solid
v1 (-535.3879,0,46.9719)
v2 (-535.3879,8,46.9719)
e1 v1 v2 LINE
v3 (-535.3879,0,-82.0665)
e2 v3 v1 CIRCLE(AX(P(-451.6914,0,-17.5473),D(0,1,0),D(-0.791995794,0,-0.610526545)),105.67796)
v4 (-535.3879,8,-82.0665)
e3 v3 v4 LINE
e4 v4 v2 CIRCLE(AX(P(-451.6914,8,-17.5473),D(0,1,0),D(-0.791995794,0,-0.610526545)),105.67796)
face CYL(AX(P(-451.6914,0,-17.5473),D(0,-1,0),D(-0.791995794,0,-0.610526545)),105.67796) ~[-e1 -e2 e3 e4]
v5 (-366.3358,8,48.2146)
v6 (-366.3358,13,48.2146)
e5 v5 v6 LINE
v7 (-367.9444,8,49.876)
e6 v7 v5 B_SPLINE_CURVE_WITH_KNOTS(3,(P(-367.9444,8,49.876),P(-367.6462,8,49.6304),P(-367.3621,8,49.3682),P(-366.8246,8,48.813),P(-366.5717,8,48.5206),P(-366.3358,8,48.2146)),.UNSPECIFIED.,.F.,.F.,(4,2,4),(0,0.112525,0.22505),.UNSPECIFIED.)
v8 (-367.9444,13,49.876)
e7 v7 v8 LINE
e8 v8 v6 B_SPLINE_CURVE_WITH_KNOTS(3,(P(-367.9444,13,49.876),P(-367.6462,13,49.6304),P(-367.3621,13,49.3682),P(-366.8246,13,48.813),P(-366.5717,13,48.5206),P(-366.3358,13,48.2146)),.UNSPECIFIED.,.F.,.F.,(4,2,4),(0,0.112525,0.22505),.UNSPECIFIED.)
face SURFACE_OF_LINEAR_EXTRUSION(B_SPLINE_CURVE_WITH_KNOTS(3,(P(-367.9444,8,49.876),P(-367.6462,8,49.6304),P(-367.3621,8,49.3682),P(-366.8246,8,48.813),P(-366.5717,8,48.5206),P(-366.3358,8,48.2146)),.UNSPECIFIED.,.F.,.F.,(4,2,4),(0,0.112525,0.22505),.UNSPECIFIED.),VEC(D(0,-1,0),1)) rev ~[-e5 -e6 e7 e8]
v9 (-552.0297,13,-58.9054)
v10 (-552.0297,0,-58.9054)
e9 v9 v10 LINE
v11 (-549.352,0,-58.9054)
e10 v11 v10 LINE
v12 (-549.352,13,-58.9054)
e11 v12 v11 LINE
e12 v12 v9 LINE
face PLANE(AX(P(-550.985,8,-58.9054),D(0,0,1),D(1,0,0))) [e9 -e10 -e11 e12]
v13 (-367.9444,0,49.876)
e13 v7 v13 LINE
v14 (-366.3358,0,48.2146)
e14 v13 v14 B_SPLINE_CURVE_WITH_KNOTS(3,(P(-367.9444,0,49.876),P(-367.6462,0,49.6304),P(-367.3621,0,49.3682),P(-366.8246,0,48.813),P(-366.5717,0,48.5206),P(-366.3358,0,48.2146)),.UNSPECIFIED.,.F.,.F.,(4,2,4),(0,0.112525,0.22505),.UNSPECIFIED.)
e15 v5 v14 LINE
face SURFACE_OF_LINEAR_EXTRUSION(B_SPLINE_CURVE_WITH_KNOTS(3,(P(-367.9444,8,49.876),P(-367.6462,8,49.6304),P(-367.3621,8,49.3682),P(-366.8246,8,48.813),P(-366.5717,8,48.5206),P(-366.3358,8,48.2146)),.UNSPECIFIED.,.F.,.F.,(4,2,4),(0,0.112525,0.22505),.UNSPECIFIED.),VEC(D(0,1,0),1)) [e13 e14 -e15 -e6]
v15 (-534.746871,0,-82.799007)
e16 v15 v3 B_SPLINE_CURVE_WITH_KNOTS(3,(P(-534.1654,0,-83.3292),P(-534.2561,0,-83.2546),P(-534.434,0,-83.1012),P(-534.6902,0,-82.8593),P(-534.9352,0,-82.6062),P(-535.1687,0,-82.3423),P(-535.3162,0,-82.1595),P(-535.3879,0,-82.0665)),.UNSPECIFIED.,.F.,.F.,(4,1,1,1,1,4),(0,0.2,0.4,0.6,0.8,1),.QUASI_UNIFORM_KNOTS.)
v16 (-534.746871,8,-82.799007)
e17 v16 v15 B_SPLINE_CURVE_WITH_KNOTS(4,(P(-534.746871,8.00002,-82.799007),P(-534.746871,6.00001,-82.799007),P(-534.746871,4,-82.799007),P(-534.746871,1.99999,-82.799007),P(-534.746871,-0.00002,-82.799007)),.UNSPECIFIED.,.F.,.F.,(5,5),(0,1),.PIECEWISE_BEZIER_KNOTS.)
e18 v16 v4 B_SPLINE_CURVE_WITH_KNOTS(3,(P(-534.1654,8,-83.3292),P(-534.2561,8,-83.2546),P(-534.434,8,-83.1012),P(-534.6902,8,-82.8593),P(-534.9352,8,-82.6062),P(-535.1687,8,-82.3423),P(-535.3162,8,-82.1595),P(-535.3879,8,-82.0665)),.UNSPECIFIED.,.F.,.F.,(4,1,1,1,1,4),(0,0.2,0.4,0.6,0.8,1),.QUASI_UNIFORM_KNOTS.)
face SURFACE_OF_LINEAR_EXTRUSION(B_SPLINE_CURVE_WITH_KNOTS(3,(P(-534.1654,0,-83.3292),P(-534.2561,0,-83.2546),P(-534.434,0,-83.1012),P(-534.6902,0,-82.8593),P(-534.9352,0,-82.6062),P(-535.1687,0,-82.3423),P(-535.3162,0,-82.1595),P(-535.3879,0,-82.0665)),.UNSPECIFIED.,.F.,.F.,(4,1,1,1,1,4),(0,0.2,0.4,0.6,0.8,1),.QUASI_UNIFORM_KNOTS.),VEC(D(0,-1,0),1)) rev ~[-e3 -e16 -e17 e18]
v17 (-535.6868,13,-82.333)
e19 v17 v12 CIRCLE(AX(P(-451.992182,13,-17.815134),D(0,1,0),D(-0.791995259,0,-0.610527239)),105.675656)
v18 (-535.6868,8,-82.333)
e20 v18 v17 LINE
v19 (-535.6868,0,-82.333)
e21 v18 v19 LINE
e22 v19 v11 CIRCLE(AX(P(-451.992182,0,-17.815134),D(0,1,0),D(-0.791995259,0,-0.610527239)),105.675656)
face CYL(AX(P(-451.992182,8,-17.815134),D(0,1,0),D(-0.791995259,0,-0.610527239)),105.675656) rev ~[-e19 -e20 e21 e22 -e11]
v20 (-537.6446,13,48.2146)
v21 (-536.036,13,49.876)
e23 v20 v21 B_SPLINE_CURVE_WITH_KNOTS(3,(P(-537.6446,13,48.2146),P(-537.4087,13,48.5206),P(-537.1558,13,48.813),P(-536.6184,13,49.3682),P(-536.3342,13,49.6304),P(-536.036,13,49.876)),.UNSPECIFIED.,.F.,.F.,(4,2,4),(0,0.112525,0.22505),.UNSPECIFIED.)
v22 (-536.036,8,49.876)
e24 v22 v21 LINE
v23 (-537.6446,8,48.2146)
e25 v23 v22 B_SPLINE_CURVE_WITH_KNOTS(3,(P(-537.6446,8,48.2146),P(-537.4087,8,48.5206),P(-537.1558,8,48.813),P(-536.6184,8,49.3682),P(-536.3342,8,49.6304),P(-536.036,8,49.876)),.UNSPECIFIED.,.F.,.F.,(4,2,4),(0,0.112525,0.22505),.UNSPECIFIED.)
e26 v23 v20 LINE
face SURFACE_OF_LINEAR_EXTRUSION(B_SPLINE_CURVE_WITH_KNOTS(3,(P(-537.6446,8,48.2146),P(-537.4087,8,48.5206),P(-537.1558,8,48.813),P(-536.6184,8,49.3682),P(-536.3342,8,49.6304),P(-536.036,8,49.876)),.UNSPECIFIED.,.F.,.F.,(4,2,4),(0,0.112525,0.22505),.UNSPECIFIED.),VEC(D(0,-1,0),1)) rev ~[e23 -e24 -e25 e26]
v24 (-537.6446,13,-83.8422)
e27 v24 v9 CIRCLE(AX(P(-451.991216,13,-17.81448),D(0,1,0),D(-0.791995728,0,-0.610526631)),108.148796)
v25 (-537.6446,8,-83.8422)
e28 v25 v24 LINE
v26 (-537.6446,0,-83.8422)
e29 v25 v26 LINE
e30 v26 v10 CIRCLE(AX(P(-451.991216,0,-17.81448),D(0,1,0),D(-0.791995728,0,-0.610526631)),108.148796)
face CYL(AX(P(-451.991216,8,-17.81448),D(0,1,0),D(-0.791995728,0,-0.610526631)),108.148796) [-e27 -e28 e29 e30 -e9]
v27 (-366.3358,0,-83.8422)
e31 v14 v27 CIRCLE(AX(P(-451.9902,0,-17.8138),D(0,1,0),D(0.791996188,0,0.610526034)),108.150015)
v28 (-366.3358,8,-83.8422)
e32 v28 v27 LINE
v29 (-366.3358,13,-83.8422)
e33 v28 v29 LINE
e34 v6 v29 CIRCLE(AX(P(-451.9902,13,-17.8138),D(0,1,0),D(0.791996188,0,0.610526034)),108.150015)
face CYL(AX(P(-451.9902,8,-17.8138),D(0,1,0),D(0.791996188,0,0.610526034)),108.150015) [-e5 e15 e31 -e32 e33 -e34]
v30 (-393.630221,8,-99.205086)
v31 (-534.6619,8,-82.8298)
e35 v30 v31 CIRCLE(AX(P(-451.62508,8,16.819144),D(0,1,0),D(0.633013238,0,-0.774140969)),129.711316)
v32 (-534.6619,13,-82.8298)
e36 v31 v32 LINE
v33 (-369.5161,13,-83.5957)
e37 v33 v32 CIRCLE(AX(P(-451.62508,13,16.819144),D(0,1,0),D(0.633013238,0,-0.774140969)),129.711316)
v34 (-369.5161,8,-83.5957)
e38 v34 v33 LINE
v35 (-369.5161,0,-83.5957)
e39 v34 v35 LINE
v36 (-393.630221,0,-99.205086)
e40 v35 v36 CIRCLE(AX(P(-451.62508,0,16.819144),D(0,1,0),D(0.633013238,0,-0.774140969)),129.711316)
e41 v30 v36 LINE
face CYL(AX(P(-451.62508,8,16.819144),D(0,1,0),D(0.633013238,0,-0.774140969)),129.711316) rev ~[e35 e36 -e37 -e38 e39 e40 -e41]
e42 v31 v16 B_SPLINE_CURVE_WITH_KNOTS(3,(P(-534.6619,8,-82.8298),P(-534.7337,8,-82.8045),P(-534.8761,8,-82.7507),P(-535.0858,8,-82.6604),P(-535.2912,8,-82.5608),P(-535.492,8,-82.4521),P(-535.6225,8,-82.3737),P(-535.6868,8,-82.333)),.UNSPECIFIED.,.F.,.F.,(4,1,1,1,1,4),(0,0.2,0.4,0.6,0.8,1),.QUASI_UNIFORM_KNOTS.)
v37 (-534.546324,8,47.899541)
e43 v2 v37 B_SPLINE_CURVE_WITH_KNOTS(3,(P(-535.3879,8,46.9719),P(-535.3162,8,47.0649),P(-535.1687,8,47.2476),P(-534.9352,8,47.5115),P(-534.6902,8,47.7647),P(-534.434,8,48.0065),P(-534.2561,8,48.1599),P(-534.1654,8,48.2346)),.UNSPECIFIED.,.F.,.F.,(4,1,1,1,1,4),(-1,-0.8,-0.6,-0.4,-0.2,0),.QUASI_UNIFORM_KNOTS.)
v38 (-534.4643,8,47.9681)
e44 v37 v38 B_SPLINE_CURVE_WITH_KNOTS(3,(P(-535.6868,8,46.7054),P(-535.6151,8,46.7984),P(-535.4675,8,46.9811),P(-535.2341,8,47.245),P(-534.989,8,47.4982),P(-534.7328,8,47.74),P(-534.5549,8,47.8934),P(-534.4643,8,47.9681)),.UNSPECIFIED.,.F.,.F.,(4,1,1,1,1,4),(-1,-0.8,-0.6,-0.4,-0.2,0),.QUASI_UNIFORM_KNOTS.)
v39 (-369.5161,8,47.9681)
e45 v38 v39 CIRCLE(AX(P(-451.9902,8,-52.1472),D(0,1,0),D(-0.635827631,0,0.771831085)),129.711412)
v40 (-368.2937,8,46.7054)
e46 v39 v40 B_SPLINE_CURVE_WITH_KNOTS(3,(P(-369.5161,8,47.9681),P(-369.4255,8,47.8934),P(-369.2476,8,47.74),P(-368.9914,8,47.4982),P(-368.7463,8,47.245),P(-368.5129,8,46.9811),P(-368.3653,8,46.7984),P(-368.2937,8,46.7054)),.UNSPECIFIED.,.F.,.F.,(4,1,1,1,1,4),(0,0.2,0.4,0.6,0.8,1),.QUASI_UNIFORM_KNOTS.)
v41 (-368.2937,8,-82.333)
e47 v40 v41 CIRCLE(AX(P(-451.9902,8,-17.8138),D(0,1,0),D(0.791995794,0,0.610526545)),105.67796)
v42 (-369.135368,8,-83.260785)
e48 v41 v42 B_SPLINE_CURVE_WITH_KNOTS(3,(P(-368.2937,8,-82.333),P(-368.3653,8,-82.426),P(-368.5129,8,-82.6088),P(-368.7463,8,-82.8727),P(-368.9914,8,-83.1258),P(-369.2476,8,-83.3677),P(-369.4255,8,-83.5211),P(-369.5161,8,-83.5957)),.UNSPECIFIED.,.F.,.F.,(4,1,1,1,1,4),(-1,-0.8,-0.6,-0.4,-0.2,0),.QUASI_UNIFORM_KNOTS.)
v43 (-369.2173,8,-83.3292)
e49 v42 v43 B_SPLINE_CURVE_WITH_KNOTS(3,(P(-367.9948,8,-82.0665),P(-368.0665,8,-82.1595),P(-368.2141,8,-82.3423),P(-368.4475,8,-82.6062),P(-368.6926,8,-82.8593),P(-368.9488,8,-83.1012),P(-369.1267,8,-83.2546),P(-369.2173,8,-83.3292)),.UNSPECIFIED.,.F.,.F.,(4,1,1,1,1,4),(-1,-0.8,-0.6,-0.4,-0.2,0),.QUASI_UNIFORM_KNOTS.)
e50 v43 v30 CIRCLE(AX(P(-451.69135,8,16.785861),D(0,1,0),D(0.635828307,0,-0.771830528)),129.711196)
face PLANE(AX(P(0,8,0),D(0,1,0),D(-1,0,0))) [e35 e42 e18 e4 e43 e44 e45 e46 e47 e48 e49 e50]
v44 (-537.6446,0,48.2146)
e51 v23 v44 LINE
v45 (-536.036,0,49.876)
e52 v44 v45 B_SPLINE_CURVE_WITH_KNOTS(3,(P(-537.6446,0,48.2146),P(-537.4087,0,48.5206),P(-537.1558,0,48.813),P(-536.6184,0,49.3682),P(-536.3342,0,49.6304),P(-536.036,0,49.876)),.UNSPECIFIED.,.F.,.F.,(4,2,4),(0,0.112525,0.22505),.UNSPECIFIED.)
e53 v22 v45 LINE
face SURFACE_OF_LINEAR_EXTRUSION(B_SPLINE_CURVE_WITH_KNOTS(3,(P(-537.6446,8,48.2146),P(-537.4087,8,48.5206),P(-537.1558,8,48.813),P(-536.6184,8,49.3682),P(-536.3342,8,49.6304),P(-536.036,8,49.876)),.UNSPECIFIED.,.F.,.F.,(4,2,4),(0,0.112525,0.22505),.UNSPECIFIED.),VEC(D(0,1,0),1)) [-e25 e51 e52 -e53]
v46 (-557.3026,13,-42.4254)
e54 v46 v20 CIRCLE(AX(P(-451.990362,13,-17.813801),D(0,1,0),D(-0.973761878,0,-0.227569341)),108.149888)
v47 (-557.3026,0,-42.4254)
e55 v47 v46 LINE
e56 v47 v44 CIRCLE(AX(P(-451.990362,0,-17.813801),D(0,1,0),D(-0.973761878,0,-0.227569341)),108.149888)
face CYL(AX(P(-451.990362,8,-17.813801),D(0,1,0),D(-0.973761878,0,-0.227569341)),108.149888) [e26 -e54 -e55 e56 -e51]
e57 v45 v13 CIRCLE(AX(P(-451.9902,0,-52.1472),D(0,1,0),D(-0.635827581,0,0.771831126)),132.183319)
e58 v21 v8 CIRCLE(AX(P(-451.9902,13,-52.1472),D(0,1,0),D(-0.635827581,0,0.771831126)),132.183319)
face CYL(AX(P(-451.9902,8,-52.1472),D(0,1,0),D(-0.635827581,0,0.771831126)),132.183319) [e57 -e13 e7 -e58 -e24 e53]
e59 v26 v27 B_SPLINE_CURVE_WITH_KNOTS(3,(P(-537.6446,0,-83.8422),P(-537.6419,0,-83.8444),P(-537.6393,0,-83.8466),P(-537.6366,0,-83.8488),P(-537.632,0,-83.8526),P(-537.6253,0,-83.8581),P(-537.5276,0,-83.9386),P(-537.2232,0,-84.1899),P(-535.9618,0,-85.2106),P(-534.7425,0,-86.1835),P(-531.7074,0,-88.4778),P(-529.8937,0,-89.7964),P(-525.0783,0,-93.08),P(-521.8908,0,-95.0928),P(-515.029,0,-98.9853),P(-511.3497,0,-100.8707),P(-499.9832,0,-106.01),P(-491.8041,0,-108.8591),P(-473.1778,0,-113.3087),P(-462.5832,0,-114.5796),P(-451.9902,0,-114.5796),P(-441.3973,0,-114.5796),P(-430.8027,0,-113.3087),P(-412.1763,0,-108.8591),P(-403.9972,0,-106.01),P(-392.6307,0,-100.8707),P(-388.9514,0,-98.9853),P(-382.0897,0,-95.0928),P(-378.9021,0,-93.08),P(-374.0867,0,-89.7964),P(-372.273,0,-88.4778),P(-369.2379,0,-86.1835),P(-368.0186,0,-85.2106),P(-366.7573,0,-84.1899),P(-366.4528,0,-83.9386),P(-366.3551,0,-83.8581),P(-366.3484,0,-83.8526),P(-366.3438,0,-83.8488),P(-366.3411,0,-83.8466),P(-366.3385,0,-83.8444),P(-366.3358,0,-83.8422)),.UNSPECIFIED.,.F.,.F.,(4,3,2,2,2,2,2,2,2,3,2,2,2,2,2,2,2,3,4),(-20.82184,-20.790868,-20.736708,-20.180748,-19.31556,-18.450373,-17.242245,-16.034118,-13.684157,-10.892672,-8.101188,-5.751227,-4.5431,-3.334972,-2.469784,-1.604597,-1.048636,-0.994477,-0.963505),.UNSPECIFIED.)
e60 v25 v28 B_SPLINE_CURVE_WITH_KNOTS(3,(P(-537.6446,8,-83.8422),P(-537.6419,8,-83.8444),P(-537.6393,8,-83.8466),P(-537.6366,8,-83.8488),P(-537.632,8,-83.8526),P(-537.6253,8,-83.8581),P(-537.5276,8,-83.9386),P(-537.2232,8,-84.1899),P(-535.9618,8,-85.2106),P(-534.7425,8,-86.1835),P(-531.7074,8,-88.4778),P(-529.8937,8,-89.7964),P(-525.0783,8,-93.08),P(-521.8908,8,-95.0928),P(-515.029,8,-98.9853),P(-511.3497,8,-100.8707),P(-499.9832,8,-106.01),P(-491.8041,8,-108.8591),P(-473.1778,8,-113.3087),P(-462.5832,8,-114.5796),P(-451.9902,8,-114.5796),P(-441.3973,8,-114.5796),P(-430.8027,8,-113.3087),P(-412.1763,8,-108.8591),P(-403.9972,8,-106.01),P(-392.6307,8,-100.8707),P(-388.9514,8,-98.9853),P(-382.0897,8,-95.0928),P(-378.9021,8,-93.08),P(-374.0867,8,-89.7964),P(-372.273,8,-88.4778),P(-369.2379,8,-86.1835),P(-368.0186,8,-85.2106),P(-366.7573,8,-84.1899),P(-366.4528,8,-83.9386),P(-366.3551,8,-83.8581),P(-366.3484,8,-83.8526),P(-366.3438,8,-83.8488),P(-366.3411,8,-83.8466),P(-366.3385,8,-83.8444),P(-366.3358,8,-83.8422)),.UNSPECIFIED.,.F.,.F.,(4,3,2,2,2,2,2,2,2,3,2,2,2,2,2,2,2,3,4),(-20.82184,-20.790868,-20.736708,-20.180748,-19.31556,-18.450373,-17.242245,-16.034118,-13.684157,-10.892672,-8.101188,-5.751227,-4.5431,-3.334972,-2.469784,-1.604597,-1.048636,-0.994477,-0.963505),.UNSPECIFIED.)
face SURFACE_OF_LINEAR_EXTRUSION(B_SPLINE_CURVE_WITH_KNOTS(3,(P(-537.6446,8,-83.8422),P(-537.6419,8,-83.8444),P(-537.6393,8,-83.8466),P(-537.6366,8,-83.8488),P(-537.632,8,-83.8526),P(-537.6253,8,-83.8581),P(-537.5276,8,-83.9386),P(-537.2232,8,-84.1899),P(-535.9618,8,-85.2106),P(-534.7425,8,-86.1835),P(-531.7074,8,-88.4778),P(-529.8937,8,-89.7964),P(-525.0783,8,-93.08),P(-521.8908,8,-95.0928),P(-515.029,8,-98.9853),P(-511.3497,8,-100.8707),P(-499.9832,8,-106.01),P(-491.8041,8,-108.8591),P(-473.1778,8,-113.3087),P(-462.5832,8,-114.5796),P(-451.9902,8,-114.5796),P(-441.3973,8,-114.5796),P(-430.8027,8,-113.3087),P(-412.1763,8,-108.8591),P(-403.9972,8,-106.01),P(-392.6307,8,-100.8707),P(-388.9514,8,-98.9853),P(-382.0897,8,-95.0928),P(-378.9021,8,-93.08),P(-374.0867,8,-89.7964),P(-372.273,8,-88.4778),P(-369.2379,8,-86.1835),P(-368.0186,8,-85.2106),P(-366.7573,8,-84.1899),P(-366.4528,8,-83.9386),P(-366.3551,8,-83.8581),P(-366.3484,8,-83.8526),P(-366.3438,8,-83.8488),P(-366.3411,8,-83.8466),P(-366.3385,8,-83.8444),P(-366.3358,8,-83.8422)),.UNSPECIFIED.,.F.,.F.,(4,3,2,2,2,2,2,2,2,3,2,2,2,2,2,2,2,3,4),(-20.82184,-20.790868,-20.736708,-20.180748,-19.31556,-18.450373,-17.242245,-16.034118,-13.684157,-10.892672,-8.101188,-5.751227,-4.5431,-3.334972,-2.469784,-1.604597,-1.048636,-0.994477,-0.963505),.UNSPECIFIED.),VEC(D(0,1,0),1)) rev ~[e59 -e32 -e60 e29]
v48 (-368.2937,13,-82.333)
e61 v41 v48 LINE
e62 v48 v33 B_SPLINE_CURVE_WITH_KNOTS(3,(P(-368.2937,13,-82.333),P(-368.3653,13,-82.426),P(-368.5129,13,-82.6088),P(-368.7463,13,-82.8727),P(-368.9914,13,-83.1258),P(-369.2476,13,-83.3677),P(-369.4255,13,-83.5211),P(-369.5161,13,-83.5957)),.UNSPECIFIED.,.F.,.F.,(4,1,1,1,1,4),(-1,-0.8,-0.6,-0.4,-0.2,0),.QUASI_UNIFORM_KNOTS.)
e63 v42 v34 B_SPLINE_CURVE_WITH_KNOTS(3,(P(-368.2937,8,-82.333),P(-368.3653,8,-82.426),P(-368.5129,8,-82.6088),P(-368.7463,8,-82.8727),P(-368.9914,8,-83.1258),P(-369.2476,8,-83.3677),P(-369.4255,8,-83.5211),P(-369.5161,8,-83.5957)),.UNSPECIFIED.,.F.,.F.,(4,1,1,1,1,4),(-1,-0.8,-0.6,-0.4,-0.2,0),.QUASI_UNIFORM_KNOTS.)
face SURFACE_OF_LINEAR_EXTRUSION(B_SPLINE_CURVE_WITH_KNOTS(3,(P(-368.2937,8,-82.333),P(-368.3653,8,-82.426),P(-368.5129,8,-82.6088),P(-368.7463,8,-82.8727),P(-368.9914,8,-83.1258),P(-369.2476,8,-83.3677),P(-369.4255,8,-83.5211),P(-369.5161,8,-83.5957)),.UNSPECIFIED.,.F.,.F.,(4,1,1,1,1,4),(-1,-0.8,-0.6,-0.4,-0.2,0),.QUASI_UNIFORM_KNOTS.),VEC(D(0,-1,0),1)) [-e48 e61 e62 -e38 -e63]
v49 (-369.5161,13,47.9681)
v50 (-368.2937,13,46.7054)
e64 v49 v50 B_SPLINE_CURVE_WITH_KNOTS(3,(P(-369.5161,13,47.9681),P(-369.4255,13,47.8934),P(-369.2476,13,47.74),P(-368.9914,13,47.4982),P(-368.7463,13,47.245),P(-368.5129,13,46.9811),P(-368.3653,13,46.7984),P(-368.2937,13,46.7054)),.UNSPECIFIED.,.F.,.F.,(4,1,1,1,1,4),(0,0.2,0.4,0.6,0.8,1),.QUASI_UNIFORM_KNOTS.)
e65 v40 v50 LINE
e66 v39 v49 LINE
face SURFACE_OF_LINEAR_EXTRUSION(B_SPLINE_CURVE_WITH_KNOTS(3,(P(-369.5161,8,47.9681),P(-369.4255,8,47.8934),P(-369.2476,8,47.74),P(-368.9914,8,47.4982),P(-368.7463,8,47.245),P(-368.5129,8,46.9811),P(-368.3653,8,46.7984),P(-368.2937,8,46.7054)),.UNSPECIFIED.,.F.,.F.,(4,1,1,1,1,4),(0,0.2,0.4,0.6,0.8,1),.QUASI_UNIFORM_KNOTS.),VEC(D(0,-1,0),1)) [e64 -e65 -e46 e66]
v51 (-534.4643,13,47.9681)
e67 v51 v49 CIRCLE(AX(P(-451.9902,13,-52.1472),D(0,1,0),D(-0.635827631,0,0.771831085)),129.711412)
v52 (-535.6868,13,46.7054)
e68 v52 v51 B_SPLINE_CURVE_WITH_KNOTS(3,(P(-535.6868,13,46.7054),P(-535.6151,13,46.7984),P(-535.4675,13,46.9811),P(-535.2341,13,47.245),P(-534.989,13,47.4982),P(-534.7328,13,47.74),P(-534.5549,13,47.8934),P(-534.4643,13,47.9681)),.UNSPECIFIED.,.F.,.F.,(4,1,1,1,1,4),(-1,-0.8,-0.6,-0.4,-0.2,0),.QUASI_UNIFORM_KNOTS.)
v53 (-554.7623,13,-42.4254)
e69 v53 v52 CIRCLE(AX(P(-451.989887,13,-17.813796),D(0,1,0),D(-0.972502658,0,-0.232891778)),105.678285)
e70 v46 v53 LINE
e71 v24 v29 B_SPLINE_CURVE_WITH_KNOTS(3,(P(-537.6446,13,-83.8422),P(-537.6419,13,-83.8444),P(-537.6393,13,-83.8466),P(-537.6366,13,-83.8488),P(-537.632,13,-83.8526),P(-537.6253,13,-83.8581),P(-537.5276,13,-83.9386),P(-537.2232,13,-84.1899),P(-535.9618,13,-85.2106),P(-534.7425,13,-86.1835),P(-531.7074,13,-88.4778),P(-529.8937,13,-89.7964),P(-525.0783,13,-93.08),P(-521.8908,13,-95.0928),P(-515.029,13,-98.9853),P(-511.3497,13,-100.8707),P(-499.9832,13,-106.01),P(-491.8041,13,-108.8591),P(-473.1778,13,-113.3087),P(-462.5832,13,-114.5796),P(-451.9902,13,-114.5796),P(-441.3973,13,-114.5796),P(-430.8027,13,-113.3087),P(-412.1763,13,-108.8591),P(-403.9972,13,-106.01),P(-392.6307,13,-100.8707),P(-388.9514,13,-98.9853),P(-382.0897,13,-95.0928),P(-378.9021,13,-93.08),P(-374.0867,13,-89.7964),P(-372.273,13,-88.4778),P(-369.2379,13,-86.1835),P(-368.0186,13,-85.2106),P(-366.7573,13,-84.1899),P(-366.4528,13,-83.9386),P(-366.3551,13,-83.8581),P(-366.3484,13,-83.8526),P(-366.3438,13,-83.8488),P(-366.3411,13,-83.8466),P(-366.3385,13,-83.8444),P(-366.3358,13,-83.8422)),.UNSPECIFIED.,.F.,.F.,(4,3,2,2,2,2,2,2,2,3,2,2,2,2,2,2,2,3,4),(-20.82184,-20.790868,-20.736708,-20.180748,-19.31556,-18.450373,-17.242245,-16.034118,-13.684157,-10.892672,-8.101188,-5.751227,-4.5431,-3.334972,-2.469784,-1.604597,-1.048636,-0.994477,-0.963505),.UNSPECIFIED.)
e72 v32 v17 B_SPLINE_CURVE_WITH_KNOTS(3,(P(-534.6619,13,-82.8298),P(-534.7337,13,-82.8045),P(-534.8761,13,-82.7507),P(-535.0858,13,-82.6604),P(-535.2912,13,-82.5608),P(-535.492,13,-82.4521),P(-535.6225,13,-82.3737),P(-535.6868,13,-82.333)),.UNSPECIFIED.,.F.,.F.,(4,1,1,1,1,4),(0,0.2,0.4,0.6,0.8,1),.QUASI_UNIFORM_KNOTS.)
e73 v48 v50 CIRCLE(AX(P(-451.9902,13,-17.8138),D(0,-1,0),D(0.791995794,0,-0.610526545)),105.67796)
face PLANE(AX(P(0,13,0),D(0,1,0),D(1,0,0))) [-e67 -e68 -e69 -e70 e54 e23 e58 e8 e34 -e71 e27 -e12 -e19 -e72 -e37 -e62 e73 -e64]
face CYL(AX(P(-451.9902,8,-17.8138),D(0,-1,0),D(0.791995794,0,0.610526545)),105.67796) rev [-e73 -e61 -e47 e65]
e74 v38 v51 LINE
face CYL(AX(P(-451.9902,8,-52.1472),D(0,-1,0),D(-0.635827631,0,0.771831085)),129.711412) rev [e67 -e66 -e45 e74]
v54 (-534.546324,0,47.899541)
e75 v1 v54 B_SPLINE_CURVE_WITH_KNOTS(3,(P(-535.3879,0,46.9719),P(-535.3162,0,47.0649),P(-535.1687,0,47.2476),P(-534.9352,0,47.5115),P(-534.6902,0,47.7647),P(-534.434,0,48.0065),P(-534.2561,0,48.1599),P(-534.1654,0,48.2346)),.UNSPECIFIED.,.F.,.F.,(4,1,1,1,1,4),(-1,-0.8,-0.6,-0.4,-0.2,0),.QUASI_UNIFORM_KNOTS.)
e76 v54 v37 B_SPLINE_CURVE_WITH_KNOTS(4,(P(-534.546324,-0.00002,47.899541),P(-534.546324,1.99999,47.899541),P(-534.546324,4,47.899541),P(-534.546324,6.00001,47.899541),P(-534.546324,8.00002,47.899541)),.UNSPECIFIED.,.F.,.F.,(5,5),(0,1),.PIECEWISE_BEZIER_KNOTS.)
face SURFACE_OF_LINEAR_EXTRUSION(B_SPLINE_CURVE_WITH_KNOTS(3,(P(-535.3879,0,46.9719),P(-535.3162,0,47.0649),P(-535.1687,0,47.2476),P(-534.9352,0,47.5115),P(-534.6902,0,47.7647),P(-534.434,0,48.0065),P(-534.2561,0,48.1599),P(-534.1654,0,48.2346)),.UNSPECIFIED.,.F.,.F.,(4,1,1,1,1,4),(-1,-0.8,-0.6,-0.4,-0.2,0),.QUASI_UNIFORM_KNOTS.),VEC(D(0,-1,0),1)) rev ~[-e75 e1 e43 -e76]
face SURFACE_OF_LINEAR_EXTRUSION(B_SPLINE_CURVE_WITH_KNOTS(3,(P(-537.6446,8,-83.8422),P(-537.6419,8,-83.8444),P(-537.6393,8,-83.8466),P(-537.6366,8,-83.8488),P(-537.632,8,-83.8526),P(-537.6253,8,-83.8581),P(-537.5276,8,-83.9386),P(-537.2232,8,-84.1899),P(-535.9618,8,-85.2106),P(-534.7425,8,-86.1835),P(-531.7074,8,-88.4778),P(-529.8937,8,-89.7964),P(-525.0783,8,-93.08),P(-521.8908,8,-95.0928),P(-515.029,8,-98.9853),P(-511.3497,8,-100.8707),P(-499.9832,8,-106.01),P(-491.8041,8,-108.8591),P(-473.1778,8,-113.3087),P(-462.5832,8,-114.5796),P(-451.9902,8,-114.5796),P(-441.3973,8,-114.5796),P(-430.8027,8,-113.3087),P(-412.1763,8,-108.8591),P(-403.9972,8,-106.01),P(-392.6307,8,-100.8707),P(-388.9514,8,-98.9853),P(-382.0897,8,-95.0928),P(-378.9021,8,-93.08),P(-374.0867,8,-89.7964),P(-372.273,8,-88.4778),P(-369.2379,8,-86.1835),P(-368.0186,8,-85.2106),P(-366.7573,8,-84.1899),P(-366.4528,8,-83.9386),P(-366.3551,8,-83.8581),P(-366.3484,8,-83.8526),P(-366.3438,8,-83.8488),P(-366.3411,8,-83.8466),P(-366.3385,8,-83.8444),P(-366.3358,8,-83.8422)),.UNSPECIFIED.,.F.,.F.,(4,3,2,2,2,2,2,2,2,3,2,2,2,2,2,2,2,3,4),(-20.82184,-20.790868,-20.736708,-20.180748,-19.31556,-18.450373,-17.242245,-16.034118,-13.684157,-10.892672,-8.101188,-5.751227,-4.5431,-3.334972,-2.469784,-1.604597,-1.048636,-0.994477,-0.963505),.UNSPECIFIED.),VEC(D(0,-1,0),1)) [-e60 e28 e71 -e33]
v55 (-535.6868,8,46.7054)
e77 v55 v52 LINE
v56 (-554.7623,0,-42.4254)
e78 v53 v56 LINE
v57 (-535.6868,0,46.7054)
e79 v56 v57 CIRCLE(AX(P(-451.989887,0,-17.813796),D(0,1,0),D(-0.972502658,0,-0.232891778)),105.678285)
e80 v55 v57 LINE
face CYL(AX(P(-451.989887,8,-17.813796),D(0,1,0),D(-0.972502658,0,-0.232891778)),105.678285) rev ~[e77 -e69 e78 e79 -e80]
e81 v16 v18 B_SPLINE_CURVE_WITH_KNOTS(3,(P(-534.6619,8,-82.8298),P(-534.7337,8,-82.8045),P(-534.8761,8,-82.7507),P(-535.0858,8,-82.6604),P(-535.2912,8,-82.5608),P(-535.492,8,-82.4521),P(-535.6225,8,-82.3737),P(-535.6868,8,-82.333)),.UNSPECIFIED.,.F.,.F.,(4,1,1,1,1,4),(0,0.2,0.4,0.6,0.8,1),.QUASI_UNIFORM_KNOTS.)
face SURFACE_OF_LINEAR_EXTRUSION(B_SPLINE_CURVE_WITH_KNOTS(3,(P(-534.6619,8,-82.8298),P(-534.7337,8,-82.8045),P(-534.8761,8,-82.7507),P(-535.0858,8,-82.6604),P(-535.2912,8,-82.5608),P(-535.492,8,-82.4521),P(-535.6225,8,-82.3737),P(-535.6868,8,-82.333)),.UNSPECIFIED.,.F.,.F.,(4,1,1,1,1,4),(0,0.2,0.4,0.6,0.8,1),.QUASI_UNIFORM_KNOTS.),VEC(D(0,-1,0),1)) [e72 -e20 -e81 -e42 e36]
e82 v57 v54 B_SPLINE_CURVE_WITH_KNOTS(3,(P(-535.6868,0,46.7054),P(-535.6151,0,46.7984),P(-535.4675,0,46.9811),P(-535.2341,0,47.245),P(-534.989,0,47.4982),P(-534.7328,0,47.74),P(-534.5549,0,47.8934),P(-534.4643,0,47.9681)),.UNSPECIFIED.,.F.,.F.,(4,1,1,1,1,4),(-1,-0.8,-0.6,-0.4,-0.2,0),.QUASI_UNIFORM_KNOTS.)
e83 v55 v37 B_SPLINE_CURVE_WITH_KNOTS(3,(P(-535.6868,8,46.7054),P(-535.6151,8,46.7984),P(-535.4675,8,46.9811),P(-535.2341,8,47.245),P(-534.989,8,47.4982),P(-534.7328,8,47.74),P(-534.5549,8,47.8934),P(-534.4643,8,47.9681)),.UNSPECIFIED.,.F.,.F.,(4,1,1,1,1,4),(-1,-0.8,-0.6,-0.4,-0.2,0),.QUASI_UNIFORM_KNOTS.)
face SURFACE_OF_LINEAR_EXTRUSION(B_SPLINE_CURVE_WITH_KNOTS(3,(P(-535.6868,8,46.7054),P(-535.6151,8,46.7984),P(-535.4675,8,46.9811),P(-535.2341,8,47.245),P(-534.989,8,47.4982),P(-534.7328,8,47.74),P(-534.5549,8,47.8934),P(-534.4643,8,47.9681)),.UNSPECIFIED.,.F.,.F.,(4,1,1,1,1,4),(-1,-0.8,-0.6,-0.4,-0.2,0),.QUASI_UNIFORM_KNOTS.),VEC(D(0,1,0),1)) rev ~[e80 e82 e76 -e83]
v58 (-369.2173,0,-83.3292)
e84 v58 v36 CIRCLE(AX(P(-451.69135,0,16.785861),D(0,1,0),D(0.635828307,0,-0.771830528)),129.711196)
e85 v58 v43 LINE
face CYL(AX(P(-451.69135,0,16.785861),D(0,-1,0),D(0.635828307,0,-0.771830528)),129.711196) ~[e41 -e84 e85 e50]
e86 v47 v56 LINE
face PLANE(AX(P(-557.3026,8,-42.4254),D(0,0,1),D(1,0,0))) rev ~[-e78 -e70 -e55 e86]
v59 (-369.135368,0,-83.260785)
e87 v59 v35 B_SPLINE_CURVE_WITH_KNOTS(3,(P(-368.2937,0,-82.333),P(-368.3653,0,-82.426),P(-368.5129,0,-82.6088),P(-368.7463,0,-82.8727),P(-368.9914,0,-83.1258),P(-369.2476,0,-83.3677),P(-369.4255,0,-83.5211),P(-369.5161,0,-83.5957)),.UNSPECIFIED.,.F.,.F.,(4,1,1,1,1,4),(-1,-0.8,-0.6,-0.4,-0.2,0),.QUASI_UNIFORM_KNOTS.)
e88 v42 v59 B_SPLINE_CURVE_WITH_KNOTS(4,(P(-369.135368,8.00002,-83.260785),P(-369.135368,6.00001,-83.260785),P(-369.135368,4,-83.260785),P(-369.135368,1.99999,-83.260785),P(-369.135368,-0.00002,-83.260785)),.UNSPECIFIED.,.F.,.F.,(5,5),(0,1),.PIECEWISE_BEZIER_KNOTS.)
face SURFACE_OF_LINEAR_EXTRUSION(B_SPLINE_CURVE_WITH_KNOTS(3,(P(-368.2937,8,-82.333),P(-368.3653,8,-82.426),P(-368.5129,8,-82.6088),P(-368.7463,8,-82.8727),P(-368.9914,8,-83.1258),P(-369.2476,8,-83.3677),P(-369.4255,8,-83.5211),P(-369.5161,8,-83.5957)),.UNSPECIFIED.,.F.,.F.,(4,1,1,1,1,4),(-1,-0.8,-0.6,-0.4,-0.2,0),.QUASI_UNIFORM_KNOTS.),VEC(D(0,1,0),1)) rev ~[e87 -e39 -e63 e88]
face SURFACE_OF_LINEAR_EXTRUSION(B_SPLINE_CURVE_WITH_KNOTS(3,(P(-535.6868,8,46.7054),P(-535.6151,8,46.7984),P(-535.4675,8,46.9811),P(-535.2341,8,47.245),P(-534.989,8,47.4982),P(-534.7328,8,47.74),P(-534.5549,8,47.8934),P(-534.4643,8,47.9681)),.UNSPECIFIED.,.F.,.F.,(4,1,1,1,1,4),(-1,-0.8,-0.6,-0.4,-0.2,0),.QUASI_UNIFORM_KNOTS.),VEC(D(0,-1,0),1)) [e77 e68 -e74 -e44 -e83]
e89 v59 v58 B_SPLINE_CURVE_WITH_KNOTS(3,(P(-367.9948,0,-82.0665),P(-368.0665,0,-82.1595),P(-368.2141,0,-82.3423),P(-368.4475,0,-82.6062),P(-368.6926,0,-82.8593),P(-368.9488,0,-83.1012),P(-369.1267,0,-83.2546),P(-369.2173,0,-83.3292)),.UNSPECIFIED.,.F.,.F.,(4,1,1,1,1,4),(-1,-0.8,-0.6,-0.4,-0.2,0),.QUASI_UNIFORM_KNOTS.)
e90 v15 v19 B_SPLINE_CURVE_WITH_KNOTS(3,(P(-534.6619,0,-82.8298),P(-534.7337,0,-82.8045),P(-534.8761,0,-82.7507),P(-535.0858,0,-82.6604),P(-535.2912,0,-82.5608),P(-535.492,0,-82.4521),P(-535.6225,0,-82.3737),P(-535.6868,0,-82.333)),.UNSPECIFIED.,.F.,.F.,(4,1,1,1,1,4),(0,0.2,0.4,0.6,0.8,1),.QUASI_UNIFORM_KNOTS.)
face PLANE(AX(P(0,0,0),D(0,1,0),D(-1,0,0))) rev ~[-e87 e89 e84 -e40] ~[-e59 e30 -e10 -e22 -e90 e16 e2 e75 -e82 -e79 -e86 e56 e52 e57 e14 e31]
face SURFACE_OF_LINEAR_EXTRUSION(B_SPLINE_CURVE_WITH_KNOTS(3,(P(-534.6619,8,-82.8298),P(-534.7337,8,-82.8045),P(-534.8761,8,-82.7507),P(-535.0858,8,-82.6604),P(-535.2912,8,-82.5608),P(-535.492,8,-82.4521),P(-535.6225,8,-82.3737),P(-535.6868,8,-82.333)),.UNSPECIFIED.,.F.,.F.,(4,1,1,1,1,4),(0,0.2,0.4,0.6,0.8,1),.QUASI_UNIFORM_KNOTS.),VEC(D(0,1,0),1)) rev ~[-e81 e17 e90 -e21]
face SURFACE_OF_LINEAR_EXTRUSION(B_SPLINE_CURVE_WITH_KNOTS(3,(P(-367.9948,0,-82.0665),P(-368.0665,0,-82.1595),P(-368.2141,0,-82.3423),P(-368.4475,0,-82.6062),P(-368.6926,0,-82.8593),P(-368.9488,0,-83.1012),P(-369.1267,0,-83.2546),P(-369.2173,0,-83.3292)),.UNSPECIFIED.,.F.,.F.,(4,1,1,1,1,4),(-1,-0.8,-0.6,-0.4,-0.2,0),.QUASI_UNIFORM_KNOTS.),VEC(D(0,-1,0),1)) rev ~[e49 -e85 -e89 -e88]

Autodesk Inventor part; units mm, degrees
ref_plane "YZ Plane" through (0, 0, 0) normal (1, 0, 0) x (0, 1, 0)
ref_plane "XZ Plane" through (0, 0, 0) normal (0, 1, 0) x (-1, 0, 0)
ref_plane "XY Plane" through (0, 0, 0) normal (0, 0, 1) x (1, 0, 0)
sketch "Sketch11" plane through (0, 0, 0) normal (0, 1, 0) x (-1, 0, 0)
  line L0 (-102.245, 23.8947) -> (-99.7788, 23.8947) projected
  arc A0 (-99.7788, 23.8947) -> (-81.2588, -62.64) centre (0, 0) ccw projected
  arc A1 (-80.0719, -63.8659) -> (80.0719, -63.8659) centre (0, 33.3333) ccw projected
  arc A2 (81.2588, -62.64) -> (81.2588, 62.64) centre (0, 0) ccw projected
  arc A3 (80.0719, 63.8659) -> (-80.0719, 63.8659) centre (0, -33.3333) ccw projected
  arc A4 (-81.2588, 62.64) -> (-94.526, 39.8947) centre (0, 0) ccw projected
  line L1 (-94.526, 39.8947) -> (-97.1257, 39.8947) projected
  arc A5 (-83.1596, 64.1053) -> (-97.1257, 39.8947) centre (0, 0) ccw projected
  arc A6 (81.5979, 65.7183) -> (-81.5979, 65.7183) centre (0, -33.3333) ccw projected
  arc A7 (83.1596, -64.1053) -> (83.1596, 64.1053) centre (0, 0) ccw projected
  arc A8 (-81.5979, -65.7183) -> (81.5979, -65.7183) centre (0, 33.3333) ccw projected
  arc A9 (-102.245, 23.8947) -> (-83.1596, -64.1053) centre (0, 0) ccw projected
  arc A10 (-93.4835, 39.8947) -> (-98.7917, 23.8947) centre (0, 0) ccw projected
  line L2 (-101.282, 23.8947) -> (-98.7917, 23.8947) projected
  arc A11 (-96.1114, 39.8947) -> (-101.282, 23.8947) centre (0, 0) ccw projected
  line L3 (-96.1114, 39.8947) -> (-93.4835, 39.8947) projected
  spline S0 degree 3 poles (366.037, 48.4811) (366.0397, 48.4833) (366.0423, 48.4855) (366.045, 48.4876) (366.0496, 48.4915) (366.0562, 48.4969) (366.154, 48.5774) (366.4584, 48.8288) (367.7198, 49.8494) (368.9391, 50.8224) (371.9742, 53.1167) (373.7879, 54.4353) (378.6033, 57.7188) (381.7908, 59.7316) (388.6525, 63.6242) (392.3319, 65.5095) (403.6984, 70.6488) (411.8775, 73.498) (430.5038, 77.9475) (441.0984, 79.2185) (451.6914, 79.2185) (462.2843, 79.2185) (472.8789, 77.9475) (491.5053, 73.498) (499.6844, 70.6488) (511.0509, 65.5095) (514.7302, 63.6242) (521.5919, 59.7316) (524.7794, 57.7188) (529.5949, 54.4353) (531.4085, 53.1167) (534.4436, 50.8224) (535.663, 49.8494) (536.9243, 48.8288) (537.2288, 48.5774) (537.3265, 48.4969) (537.3332, 48.4915) (537.3378, 48.4876) (537.3404, 48.4855) (537.3431, 48.4833) (537.3457, 48.4811) knots -20.82184 -20.82184 -20.82184 -20.82184 -20.790868 -20.790868 -20.790868 -20.736708 -20.736708 -20.180748 -20.180748 -19.31556 -19.31556 -18.450373 -18.450373 -17.242245 -17.242245 -16.034118 -16.034118 -13.684157 -13.684157 -10.892672 -10.892672 -10.892672 -8.101188 -8.101188 -5.751227 -5.751227 -4.5431 -4.5431 -3.334972 -3.334972 -2.469784 -2.469784 -1.604597 -1.604597 -1.048636 -1.048636 -0.994477 -0.994477 -0.994477 -0.963505 -0.963505 -0.963505 -0.963505
  line L4 (346.379, 7.0643) -> (348.9192, 7.0643)
  arc A12 (354.3296, 23.5443) -> (367.9948, -82.0665) centre (451.6914, -17.5473) ccw
  spline S1 degree 3 poles (367.9948, -82.0665) (368.0665, -82.1595) (368.2141, -82.3423) (368.4475, -82.6062) (368.6926, -82.8593) (368.9488, -83.1012) (369.1267, -83.2546) (369.2173, -83.3292) knots -1 -1 -1 -1 -0.8 -0.6 -0.4 -0.2 0 0 0 0
  arc A13 (369.2173, -83.3292) -> (534.1654, -83.3292) centre (451.6914, 16.786) ccw
  spline S2 degree 3 poles (534.1654, -83.3292) (534.2561, -83.2546) (534.434, -83.1012) (534.6902, -82.8593) (534.9352, -82.6062) (535.1687, -82.3423) (535.3162, -82.1595) (535.3879, -82.0665) knots 0 0 0 0 0.2 0.4 0.6 0.8 1 1 1 1
  arc A14 (535.3879, -82.0665) -> (535.3879, 46.9719) centre (451.6914, -17.5473) ccw
  spline S3 degree 3 poles (535.3879, 46.9719) (535.3162, 47.0649) (535.1687, 47.2476) (534.9352, 47.5115) (534.6902, 47.7647) (534.434, 48.0065) (534.2561, 48.1599) (534.1654, 48.2346) knots -1 -1 -1 -1 -0.8 -0.6 -0.4 -0.2 0 0 0 0
  arc A15 (534.1654, 48.2346) -> (369.2173, 48.2346) centre (451.6914, -51.8807) ccw
  spline S4 degree 3 poles (369.2173, 48.2346) (369.1267, 48.1599) (368.9488, 48.0065) (368.6926, 47.7647) (368.4475, 47.5115) (368.2141, 47.2476) (368.0665, 47.0649) (367.9948, 46.9719) knots 0 0 0 0 0.2 0.4 0.6 0.8 1 1 1 1
  arc A16 (367.9948, 46.9719) -> (354.3296, 23.5443) centre (451.6914, -17.5473) ccw
  line L5 (354.3296, 23.5443) -> (351.6519, 23.5443)
  arc A17 (366.037, 48.4811) -> (351.6519, 23.5443) centre (451.6914, -17.5473) ccw
  spline S5 degree 3 poles (367.6455, 50.1425) (367.3474, 49.8969) (367.0632, 49.6347) (366.5258, 49.0795) (366.2729, 48.7871) (366.037, 48.4811) knots 0 0 0 0 0.112525 0.112525 0.22505 0.22505 0.22505 0.22505
  arc A18 (535.7372, 50.1425) -> (367.6455, 50.1425) centre (451.6914, -51.8807) ccw
  spline S6 degree 3 poles (537.3457, 48.4811) (537.1099, 48.7871) (536.857, 49.0795) (536.3195, 49.6347) (536.0354, 49.8969) (535.7372, 50.1425) knots 0 0 0 0 0.112525 0.112525 0.22505 0.22505 0.22505 0.22505
  arc A19 (537.3457, -83.5757) -> (537.3457, 48.4811) centre (451.6914, -17.5473) ccw
  spline S7 degree 3 poles (535.7372, -85.2372) (536.0354, -84.9915) (536.3195, -84.7293) (536.857, -84.1742) (537.1099, -83.8817) (537.3457, -83.5757) knots 0 0 0 0 0.112525 0.112525 0.22505 0.22505 0.22505 0.22505
  arc A20 (367.6455, -85.2372) -> (535.7372, -85.2372) centre (451.6914, 16.786) ccw
  spline S8 degree 3 poles (366.037, -83.5757) (366.2729, -83.8817) (366.5258, -84.1742) (367.0632, -84.7293) (367.3474, -84.9915) (367.6455, -85.2372) knots 0 0 0 0 0.112525 0.112525 0.22505 0.22505 0.22505 0.22505
  arc A21 (346.379, 7.0643) -> (366.037, -83.5757) centre (451.6914, -17.5473) ccw
  line L6 (347.3709, 7.0643) -> (348.9192, 7.0643)
  arc A22 (352.6966, 23.5443) -> (347.3709, 7.0643) centre (451.6914, -17.5473) ccw
  line L7 (352.6966, 23.5443) -> (354.3296, 23.5443)
  point P0 (354.3296, 23.5443)
  point P1 (348.9192, 7.0643)
extrude "Extrusion8" add sketch "Sketch11" along normal blind 8 contours A16 S4 A15 S3 A14 S2 A13 S1 A12
sketch "Sketch14" plane through (0, 8, 0) normal (0, 1, 0) x (1, 0, 0)
  line L0 (-557.3026, 42.4254) -> (-554.7623, 42.4254)
  spline S0 degree 3 poles (-535.6868, -46.7054) (-535.6151, -46.7984) (-535.4675, -46.9811) (-535.2341, -47.245) (-534.989, -47.4982) (-534.7328, -47.74) (-534.5549, -47.8934) (-534.4643, -47.9681) knots -1 -1 -1 -1 -0.8 -0.6 -0.4 -0.2 0 0 0 0
  spline S1 degree 3 poles (-537.6446, -48.2146) (-537.4087, -48.5206) (-537.1558, -48.813) (-536.6184, -49.3682) (-536.3342, -49.6304) (-536.036, -49.876) knots 0 0 0 0 0.112525 0.112525 0.22505 0.22505 0.22505 0.22505
  arc A0 (-554.7623, 42.4254) -> (-535.6868, -46.7054) centre (-451.9902, 17.8138) ccw
  arc A1 (-557.3026, 42.4254) -> (-537.6446, -48.2146) centre (-451.9902, 17.8138) ccw
  spline S2 degree 3 poles (-369.5161, -47.9681) (-369.4255, -47.8934) (-369.2476, -47.74) (-368.9914, -47.4982) (-368.7463, -47.245) (-368.5129, -46.9811) (-368.3653, -46.7984) (-368.2937, -46.7054) knots 0 0 0 0 0.2 0.4 0.6 0.8 1 1 1 1
  spline S3 degree 3 poles (-367.9444, -49.876) (-367.6462, -49.6304) (-367.3621, -49.3682) (-366.8246, -48.813) (-366.5717, -48.5206) (-366.3358, -48.2146) knots 0 0 0 0 0.112525 0.112525 0.22505 0.22505 0.22505 0.22505
  arc A2 (-368.2937, -46.7054) -> (-368.2937, 82.333) centre (-451.9902, 17.8138) ccw
  arc A3 (-366.3358, -48.2146) -> (-366.3358, 83.8422) centre (-451.9902, 17.8138) ccw
  spline S4 degree 3 poles (-366.3358, 83.8422) (-366.5717, 84.1482) (-366.8246, 84.4407) (-367.3621, 84.9958) (-367.6462, 85.258) (-367.9444, 85.5037) knots 0 0 0 0 0.112525 0.112525 0.22505 0.22505 0.22505 0.22505
  spline S5 degree 3 poles (-368.2937, 82.333) (-368.3653, 82.426) (-368.5129, 82.6088) (-368.7463, 82.8727) (-368.9914, 83.1258) (-369.2476, 83.3677) (-369.4255, 83.5211) (-369.5161, 83.5957) knots -1 -1 -1 -1 -0.8 -0.6 -0.4 -0.2 0 0 0 0
  spline S6 degree 3 poles (-537.6446, 83.8422) (-537.6419, 83.8444) (-537.6393, 83.8466) (-537.6366, 83.8488) (-537.632, 83.8526) (-537.6253, 83.8581) (-537.5276, 83.9386) (-537.2232, 84.1899) (-535.9618, 85.2106) (-534.7425, 86.1835) (-531.7074, 88.4778) (-529.8937, 89.7964) (-525.0783, 93.08) (-521.8908, 95.0928) (-515.029, 98.9853) (-511.3497, 100.8707) (-499.9832, 106.01) (-491.8041, 108.8591) (-473.1778, 113.3087) (-462.5832, 114.5796) (-451.9902, 114.5796) (-441.3973, 114.5796) (-430.8027, 113.3087) (-412.1763, 108.8591) (-403.9972, 106.01) (-392.6307, 100.8707) (-388.9514, 98.9853) (-382.0897, 95.0928) (-378.9021, 93.08) (-374.0867, 89.7964) (-372.273, 88.4778) (-369.2379, 86.1835) (-368.0186, 85.2106) (-366.7573, 84.1899) (-366.4528, 83.9386) (-366.3551, 83.8581) (-366.3484, 83.8526) (-366.3438, 83.8488) (-366.3411, 83.8466) (-366.3385, 83.8444) (-366.3358, 83.8422) knots -20.82184 -20.82184 -20.82184 -20.82184 -20.790868 -20.790868 -20.790868 -20.736708 -20.736708 -20.180748 -20.180748 -19.31556 -19.31556 -18.450373 -18.450373 -17.242245 -17.242245 -16.034118 -16.034118 -13.684157 -13.684157 -10.892672 -10.892672 -10.892672 -8.101188 -8.101188 -5.751227 -5.751227 -4.5431 -4.5431 -3.334972 -3.334972 -2.469784 -2.469784 -1.604597 -1.604597 -1.048636 -1.048636 -0.994477 -0.994477 -0.994477 -0.963505 -0.963505 -0.963505 -0.963505
  spline S7 degree 3 poles (-534.6619, 82.8298) (-534.7337, 82.8045) (-534.8761, 82.7507) (-535.0858, 82.6604) (-535.2912, 82.5608) (-535.492, 82.4521) (-535.6225, 82.3737) (-535.6868, 82.333) knots 0 0 0 0 0.2 0.4 0.6 0.8 1 1 1 1
  arc A4 (-534.4643, -47.9681) -> (-369.5161, -47.9681) centre (-451.9902, 52.1472) ccw
  arc A5 (-536.036, -49.876) -> (-367.9444, -49.876) centre (-451.9902, 52.1472) ccw
  arc A6 (-367.9444, 85.5037) -> (-536.036, 85.5037) centre (-451.9902, -16.5195) ccw
  arc A7 (-369.5161, 83.5957) -> (-534.6619, 82.8298) centre (-451.6251, -16.8192) ccw
  arc A8 (-535.6868, 82.333) -> (-549.352, 58.9054) centre (-451.9902, 17.8138) ccw
  line L1 (-550.985, 58.9054) -> (-548.2782, 58.9054)
  line L2 (-549.352, 58.9054) -> (-552.0297, 58.9054)
  arc A9 (-548.2782, 58.9054) -> (-553.7457, 42.4254) centre (-451.9902, 17.8138) ccw
  line L3 (-556.3107, 42.4254) -> (-553.7457, 42.4254)
  arc A10 (-550.985, 58.9054) -> (-556.3107, 42.4254) centre (-451.9902, 17.8138) ccw
  arc A11 (-537.6446, 83.8422) -> (-552.0297, 58.9054) centre (-451.9902, 17.8138) ccw
  spline S8 degree 3 poles (-536.036, 85.5037) (-536.3342, 85.258) (-536.6184, 84.9958) (-537.1558, 84.4407) (-537.4087, 84.1482) (-537.6446, 83.8422) knots 0 0 0 0 0.112525 0.112525 0.22505 0.22505 0.22505 0.22505
  line L4 (-349.9359, -7.0643) -> (-348.9192, -7.0643) projected
  line L5 (-349.2823, -7.0643) -> (-349.9359, -7.0643)
  line L6 (-354.3296, -23.5443) -> (-355.4033, -23.5443) projected
  line L7 (-349.9359, -7.0643) -> (-355.4033, -23.5443)
  line L8 (-355.4033, -23.5443) -> (-354.8665, -23.5443)
  point P0 (0, 0)
  point P1 (-537.6446, 83.8422)
extrude "Extrusion11" add sketch "Sketch14" along normal blind 5 and the other way blind 8 contours L0 A0 S0 A4 S2 A2 S5 A7 S7 A8 L1 L2 A11 S6 A3 S3 A5 S1 A1
properties part number "Sonion ring base"
